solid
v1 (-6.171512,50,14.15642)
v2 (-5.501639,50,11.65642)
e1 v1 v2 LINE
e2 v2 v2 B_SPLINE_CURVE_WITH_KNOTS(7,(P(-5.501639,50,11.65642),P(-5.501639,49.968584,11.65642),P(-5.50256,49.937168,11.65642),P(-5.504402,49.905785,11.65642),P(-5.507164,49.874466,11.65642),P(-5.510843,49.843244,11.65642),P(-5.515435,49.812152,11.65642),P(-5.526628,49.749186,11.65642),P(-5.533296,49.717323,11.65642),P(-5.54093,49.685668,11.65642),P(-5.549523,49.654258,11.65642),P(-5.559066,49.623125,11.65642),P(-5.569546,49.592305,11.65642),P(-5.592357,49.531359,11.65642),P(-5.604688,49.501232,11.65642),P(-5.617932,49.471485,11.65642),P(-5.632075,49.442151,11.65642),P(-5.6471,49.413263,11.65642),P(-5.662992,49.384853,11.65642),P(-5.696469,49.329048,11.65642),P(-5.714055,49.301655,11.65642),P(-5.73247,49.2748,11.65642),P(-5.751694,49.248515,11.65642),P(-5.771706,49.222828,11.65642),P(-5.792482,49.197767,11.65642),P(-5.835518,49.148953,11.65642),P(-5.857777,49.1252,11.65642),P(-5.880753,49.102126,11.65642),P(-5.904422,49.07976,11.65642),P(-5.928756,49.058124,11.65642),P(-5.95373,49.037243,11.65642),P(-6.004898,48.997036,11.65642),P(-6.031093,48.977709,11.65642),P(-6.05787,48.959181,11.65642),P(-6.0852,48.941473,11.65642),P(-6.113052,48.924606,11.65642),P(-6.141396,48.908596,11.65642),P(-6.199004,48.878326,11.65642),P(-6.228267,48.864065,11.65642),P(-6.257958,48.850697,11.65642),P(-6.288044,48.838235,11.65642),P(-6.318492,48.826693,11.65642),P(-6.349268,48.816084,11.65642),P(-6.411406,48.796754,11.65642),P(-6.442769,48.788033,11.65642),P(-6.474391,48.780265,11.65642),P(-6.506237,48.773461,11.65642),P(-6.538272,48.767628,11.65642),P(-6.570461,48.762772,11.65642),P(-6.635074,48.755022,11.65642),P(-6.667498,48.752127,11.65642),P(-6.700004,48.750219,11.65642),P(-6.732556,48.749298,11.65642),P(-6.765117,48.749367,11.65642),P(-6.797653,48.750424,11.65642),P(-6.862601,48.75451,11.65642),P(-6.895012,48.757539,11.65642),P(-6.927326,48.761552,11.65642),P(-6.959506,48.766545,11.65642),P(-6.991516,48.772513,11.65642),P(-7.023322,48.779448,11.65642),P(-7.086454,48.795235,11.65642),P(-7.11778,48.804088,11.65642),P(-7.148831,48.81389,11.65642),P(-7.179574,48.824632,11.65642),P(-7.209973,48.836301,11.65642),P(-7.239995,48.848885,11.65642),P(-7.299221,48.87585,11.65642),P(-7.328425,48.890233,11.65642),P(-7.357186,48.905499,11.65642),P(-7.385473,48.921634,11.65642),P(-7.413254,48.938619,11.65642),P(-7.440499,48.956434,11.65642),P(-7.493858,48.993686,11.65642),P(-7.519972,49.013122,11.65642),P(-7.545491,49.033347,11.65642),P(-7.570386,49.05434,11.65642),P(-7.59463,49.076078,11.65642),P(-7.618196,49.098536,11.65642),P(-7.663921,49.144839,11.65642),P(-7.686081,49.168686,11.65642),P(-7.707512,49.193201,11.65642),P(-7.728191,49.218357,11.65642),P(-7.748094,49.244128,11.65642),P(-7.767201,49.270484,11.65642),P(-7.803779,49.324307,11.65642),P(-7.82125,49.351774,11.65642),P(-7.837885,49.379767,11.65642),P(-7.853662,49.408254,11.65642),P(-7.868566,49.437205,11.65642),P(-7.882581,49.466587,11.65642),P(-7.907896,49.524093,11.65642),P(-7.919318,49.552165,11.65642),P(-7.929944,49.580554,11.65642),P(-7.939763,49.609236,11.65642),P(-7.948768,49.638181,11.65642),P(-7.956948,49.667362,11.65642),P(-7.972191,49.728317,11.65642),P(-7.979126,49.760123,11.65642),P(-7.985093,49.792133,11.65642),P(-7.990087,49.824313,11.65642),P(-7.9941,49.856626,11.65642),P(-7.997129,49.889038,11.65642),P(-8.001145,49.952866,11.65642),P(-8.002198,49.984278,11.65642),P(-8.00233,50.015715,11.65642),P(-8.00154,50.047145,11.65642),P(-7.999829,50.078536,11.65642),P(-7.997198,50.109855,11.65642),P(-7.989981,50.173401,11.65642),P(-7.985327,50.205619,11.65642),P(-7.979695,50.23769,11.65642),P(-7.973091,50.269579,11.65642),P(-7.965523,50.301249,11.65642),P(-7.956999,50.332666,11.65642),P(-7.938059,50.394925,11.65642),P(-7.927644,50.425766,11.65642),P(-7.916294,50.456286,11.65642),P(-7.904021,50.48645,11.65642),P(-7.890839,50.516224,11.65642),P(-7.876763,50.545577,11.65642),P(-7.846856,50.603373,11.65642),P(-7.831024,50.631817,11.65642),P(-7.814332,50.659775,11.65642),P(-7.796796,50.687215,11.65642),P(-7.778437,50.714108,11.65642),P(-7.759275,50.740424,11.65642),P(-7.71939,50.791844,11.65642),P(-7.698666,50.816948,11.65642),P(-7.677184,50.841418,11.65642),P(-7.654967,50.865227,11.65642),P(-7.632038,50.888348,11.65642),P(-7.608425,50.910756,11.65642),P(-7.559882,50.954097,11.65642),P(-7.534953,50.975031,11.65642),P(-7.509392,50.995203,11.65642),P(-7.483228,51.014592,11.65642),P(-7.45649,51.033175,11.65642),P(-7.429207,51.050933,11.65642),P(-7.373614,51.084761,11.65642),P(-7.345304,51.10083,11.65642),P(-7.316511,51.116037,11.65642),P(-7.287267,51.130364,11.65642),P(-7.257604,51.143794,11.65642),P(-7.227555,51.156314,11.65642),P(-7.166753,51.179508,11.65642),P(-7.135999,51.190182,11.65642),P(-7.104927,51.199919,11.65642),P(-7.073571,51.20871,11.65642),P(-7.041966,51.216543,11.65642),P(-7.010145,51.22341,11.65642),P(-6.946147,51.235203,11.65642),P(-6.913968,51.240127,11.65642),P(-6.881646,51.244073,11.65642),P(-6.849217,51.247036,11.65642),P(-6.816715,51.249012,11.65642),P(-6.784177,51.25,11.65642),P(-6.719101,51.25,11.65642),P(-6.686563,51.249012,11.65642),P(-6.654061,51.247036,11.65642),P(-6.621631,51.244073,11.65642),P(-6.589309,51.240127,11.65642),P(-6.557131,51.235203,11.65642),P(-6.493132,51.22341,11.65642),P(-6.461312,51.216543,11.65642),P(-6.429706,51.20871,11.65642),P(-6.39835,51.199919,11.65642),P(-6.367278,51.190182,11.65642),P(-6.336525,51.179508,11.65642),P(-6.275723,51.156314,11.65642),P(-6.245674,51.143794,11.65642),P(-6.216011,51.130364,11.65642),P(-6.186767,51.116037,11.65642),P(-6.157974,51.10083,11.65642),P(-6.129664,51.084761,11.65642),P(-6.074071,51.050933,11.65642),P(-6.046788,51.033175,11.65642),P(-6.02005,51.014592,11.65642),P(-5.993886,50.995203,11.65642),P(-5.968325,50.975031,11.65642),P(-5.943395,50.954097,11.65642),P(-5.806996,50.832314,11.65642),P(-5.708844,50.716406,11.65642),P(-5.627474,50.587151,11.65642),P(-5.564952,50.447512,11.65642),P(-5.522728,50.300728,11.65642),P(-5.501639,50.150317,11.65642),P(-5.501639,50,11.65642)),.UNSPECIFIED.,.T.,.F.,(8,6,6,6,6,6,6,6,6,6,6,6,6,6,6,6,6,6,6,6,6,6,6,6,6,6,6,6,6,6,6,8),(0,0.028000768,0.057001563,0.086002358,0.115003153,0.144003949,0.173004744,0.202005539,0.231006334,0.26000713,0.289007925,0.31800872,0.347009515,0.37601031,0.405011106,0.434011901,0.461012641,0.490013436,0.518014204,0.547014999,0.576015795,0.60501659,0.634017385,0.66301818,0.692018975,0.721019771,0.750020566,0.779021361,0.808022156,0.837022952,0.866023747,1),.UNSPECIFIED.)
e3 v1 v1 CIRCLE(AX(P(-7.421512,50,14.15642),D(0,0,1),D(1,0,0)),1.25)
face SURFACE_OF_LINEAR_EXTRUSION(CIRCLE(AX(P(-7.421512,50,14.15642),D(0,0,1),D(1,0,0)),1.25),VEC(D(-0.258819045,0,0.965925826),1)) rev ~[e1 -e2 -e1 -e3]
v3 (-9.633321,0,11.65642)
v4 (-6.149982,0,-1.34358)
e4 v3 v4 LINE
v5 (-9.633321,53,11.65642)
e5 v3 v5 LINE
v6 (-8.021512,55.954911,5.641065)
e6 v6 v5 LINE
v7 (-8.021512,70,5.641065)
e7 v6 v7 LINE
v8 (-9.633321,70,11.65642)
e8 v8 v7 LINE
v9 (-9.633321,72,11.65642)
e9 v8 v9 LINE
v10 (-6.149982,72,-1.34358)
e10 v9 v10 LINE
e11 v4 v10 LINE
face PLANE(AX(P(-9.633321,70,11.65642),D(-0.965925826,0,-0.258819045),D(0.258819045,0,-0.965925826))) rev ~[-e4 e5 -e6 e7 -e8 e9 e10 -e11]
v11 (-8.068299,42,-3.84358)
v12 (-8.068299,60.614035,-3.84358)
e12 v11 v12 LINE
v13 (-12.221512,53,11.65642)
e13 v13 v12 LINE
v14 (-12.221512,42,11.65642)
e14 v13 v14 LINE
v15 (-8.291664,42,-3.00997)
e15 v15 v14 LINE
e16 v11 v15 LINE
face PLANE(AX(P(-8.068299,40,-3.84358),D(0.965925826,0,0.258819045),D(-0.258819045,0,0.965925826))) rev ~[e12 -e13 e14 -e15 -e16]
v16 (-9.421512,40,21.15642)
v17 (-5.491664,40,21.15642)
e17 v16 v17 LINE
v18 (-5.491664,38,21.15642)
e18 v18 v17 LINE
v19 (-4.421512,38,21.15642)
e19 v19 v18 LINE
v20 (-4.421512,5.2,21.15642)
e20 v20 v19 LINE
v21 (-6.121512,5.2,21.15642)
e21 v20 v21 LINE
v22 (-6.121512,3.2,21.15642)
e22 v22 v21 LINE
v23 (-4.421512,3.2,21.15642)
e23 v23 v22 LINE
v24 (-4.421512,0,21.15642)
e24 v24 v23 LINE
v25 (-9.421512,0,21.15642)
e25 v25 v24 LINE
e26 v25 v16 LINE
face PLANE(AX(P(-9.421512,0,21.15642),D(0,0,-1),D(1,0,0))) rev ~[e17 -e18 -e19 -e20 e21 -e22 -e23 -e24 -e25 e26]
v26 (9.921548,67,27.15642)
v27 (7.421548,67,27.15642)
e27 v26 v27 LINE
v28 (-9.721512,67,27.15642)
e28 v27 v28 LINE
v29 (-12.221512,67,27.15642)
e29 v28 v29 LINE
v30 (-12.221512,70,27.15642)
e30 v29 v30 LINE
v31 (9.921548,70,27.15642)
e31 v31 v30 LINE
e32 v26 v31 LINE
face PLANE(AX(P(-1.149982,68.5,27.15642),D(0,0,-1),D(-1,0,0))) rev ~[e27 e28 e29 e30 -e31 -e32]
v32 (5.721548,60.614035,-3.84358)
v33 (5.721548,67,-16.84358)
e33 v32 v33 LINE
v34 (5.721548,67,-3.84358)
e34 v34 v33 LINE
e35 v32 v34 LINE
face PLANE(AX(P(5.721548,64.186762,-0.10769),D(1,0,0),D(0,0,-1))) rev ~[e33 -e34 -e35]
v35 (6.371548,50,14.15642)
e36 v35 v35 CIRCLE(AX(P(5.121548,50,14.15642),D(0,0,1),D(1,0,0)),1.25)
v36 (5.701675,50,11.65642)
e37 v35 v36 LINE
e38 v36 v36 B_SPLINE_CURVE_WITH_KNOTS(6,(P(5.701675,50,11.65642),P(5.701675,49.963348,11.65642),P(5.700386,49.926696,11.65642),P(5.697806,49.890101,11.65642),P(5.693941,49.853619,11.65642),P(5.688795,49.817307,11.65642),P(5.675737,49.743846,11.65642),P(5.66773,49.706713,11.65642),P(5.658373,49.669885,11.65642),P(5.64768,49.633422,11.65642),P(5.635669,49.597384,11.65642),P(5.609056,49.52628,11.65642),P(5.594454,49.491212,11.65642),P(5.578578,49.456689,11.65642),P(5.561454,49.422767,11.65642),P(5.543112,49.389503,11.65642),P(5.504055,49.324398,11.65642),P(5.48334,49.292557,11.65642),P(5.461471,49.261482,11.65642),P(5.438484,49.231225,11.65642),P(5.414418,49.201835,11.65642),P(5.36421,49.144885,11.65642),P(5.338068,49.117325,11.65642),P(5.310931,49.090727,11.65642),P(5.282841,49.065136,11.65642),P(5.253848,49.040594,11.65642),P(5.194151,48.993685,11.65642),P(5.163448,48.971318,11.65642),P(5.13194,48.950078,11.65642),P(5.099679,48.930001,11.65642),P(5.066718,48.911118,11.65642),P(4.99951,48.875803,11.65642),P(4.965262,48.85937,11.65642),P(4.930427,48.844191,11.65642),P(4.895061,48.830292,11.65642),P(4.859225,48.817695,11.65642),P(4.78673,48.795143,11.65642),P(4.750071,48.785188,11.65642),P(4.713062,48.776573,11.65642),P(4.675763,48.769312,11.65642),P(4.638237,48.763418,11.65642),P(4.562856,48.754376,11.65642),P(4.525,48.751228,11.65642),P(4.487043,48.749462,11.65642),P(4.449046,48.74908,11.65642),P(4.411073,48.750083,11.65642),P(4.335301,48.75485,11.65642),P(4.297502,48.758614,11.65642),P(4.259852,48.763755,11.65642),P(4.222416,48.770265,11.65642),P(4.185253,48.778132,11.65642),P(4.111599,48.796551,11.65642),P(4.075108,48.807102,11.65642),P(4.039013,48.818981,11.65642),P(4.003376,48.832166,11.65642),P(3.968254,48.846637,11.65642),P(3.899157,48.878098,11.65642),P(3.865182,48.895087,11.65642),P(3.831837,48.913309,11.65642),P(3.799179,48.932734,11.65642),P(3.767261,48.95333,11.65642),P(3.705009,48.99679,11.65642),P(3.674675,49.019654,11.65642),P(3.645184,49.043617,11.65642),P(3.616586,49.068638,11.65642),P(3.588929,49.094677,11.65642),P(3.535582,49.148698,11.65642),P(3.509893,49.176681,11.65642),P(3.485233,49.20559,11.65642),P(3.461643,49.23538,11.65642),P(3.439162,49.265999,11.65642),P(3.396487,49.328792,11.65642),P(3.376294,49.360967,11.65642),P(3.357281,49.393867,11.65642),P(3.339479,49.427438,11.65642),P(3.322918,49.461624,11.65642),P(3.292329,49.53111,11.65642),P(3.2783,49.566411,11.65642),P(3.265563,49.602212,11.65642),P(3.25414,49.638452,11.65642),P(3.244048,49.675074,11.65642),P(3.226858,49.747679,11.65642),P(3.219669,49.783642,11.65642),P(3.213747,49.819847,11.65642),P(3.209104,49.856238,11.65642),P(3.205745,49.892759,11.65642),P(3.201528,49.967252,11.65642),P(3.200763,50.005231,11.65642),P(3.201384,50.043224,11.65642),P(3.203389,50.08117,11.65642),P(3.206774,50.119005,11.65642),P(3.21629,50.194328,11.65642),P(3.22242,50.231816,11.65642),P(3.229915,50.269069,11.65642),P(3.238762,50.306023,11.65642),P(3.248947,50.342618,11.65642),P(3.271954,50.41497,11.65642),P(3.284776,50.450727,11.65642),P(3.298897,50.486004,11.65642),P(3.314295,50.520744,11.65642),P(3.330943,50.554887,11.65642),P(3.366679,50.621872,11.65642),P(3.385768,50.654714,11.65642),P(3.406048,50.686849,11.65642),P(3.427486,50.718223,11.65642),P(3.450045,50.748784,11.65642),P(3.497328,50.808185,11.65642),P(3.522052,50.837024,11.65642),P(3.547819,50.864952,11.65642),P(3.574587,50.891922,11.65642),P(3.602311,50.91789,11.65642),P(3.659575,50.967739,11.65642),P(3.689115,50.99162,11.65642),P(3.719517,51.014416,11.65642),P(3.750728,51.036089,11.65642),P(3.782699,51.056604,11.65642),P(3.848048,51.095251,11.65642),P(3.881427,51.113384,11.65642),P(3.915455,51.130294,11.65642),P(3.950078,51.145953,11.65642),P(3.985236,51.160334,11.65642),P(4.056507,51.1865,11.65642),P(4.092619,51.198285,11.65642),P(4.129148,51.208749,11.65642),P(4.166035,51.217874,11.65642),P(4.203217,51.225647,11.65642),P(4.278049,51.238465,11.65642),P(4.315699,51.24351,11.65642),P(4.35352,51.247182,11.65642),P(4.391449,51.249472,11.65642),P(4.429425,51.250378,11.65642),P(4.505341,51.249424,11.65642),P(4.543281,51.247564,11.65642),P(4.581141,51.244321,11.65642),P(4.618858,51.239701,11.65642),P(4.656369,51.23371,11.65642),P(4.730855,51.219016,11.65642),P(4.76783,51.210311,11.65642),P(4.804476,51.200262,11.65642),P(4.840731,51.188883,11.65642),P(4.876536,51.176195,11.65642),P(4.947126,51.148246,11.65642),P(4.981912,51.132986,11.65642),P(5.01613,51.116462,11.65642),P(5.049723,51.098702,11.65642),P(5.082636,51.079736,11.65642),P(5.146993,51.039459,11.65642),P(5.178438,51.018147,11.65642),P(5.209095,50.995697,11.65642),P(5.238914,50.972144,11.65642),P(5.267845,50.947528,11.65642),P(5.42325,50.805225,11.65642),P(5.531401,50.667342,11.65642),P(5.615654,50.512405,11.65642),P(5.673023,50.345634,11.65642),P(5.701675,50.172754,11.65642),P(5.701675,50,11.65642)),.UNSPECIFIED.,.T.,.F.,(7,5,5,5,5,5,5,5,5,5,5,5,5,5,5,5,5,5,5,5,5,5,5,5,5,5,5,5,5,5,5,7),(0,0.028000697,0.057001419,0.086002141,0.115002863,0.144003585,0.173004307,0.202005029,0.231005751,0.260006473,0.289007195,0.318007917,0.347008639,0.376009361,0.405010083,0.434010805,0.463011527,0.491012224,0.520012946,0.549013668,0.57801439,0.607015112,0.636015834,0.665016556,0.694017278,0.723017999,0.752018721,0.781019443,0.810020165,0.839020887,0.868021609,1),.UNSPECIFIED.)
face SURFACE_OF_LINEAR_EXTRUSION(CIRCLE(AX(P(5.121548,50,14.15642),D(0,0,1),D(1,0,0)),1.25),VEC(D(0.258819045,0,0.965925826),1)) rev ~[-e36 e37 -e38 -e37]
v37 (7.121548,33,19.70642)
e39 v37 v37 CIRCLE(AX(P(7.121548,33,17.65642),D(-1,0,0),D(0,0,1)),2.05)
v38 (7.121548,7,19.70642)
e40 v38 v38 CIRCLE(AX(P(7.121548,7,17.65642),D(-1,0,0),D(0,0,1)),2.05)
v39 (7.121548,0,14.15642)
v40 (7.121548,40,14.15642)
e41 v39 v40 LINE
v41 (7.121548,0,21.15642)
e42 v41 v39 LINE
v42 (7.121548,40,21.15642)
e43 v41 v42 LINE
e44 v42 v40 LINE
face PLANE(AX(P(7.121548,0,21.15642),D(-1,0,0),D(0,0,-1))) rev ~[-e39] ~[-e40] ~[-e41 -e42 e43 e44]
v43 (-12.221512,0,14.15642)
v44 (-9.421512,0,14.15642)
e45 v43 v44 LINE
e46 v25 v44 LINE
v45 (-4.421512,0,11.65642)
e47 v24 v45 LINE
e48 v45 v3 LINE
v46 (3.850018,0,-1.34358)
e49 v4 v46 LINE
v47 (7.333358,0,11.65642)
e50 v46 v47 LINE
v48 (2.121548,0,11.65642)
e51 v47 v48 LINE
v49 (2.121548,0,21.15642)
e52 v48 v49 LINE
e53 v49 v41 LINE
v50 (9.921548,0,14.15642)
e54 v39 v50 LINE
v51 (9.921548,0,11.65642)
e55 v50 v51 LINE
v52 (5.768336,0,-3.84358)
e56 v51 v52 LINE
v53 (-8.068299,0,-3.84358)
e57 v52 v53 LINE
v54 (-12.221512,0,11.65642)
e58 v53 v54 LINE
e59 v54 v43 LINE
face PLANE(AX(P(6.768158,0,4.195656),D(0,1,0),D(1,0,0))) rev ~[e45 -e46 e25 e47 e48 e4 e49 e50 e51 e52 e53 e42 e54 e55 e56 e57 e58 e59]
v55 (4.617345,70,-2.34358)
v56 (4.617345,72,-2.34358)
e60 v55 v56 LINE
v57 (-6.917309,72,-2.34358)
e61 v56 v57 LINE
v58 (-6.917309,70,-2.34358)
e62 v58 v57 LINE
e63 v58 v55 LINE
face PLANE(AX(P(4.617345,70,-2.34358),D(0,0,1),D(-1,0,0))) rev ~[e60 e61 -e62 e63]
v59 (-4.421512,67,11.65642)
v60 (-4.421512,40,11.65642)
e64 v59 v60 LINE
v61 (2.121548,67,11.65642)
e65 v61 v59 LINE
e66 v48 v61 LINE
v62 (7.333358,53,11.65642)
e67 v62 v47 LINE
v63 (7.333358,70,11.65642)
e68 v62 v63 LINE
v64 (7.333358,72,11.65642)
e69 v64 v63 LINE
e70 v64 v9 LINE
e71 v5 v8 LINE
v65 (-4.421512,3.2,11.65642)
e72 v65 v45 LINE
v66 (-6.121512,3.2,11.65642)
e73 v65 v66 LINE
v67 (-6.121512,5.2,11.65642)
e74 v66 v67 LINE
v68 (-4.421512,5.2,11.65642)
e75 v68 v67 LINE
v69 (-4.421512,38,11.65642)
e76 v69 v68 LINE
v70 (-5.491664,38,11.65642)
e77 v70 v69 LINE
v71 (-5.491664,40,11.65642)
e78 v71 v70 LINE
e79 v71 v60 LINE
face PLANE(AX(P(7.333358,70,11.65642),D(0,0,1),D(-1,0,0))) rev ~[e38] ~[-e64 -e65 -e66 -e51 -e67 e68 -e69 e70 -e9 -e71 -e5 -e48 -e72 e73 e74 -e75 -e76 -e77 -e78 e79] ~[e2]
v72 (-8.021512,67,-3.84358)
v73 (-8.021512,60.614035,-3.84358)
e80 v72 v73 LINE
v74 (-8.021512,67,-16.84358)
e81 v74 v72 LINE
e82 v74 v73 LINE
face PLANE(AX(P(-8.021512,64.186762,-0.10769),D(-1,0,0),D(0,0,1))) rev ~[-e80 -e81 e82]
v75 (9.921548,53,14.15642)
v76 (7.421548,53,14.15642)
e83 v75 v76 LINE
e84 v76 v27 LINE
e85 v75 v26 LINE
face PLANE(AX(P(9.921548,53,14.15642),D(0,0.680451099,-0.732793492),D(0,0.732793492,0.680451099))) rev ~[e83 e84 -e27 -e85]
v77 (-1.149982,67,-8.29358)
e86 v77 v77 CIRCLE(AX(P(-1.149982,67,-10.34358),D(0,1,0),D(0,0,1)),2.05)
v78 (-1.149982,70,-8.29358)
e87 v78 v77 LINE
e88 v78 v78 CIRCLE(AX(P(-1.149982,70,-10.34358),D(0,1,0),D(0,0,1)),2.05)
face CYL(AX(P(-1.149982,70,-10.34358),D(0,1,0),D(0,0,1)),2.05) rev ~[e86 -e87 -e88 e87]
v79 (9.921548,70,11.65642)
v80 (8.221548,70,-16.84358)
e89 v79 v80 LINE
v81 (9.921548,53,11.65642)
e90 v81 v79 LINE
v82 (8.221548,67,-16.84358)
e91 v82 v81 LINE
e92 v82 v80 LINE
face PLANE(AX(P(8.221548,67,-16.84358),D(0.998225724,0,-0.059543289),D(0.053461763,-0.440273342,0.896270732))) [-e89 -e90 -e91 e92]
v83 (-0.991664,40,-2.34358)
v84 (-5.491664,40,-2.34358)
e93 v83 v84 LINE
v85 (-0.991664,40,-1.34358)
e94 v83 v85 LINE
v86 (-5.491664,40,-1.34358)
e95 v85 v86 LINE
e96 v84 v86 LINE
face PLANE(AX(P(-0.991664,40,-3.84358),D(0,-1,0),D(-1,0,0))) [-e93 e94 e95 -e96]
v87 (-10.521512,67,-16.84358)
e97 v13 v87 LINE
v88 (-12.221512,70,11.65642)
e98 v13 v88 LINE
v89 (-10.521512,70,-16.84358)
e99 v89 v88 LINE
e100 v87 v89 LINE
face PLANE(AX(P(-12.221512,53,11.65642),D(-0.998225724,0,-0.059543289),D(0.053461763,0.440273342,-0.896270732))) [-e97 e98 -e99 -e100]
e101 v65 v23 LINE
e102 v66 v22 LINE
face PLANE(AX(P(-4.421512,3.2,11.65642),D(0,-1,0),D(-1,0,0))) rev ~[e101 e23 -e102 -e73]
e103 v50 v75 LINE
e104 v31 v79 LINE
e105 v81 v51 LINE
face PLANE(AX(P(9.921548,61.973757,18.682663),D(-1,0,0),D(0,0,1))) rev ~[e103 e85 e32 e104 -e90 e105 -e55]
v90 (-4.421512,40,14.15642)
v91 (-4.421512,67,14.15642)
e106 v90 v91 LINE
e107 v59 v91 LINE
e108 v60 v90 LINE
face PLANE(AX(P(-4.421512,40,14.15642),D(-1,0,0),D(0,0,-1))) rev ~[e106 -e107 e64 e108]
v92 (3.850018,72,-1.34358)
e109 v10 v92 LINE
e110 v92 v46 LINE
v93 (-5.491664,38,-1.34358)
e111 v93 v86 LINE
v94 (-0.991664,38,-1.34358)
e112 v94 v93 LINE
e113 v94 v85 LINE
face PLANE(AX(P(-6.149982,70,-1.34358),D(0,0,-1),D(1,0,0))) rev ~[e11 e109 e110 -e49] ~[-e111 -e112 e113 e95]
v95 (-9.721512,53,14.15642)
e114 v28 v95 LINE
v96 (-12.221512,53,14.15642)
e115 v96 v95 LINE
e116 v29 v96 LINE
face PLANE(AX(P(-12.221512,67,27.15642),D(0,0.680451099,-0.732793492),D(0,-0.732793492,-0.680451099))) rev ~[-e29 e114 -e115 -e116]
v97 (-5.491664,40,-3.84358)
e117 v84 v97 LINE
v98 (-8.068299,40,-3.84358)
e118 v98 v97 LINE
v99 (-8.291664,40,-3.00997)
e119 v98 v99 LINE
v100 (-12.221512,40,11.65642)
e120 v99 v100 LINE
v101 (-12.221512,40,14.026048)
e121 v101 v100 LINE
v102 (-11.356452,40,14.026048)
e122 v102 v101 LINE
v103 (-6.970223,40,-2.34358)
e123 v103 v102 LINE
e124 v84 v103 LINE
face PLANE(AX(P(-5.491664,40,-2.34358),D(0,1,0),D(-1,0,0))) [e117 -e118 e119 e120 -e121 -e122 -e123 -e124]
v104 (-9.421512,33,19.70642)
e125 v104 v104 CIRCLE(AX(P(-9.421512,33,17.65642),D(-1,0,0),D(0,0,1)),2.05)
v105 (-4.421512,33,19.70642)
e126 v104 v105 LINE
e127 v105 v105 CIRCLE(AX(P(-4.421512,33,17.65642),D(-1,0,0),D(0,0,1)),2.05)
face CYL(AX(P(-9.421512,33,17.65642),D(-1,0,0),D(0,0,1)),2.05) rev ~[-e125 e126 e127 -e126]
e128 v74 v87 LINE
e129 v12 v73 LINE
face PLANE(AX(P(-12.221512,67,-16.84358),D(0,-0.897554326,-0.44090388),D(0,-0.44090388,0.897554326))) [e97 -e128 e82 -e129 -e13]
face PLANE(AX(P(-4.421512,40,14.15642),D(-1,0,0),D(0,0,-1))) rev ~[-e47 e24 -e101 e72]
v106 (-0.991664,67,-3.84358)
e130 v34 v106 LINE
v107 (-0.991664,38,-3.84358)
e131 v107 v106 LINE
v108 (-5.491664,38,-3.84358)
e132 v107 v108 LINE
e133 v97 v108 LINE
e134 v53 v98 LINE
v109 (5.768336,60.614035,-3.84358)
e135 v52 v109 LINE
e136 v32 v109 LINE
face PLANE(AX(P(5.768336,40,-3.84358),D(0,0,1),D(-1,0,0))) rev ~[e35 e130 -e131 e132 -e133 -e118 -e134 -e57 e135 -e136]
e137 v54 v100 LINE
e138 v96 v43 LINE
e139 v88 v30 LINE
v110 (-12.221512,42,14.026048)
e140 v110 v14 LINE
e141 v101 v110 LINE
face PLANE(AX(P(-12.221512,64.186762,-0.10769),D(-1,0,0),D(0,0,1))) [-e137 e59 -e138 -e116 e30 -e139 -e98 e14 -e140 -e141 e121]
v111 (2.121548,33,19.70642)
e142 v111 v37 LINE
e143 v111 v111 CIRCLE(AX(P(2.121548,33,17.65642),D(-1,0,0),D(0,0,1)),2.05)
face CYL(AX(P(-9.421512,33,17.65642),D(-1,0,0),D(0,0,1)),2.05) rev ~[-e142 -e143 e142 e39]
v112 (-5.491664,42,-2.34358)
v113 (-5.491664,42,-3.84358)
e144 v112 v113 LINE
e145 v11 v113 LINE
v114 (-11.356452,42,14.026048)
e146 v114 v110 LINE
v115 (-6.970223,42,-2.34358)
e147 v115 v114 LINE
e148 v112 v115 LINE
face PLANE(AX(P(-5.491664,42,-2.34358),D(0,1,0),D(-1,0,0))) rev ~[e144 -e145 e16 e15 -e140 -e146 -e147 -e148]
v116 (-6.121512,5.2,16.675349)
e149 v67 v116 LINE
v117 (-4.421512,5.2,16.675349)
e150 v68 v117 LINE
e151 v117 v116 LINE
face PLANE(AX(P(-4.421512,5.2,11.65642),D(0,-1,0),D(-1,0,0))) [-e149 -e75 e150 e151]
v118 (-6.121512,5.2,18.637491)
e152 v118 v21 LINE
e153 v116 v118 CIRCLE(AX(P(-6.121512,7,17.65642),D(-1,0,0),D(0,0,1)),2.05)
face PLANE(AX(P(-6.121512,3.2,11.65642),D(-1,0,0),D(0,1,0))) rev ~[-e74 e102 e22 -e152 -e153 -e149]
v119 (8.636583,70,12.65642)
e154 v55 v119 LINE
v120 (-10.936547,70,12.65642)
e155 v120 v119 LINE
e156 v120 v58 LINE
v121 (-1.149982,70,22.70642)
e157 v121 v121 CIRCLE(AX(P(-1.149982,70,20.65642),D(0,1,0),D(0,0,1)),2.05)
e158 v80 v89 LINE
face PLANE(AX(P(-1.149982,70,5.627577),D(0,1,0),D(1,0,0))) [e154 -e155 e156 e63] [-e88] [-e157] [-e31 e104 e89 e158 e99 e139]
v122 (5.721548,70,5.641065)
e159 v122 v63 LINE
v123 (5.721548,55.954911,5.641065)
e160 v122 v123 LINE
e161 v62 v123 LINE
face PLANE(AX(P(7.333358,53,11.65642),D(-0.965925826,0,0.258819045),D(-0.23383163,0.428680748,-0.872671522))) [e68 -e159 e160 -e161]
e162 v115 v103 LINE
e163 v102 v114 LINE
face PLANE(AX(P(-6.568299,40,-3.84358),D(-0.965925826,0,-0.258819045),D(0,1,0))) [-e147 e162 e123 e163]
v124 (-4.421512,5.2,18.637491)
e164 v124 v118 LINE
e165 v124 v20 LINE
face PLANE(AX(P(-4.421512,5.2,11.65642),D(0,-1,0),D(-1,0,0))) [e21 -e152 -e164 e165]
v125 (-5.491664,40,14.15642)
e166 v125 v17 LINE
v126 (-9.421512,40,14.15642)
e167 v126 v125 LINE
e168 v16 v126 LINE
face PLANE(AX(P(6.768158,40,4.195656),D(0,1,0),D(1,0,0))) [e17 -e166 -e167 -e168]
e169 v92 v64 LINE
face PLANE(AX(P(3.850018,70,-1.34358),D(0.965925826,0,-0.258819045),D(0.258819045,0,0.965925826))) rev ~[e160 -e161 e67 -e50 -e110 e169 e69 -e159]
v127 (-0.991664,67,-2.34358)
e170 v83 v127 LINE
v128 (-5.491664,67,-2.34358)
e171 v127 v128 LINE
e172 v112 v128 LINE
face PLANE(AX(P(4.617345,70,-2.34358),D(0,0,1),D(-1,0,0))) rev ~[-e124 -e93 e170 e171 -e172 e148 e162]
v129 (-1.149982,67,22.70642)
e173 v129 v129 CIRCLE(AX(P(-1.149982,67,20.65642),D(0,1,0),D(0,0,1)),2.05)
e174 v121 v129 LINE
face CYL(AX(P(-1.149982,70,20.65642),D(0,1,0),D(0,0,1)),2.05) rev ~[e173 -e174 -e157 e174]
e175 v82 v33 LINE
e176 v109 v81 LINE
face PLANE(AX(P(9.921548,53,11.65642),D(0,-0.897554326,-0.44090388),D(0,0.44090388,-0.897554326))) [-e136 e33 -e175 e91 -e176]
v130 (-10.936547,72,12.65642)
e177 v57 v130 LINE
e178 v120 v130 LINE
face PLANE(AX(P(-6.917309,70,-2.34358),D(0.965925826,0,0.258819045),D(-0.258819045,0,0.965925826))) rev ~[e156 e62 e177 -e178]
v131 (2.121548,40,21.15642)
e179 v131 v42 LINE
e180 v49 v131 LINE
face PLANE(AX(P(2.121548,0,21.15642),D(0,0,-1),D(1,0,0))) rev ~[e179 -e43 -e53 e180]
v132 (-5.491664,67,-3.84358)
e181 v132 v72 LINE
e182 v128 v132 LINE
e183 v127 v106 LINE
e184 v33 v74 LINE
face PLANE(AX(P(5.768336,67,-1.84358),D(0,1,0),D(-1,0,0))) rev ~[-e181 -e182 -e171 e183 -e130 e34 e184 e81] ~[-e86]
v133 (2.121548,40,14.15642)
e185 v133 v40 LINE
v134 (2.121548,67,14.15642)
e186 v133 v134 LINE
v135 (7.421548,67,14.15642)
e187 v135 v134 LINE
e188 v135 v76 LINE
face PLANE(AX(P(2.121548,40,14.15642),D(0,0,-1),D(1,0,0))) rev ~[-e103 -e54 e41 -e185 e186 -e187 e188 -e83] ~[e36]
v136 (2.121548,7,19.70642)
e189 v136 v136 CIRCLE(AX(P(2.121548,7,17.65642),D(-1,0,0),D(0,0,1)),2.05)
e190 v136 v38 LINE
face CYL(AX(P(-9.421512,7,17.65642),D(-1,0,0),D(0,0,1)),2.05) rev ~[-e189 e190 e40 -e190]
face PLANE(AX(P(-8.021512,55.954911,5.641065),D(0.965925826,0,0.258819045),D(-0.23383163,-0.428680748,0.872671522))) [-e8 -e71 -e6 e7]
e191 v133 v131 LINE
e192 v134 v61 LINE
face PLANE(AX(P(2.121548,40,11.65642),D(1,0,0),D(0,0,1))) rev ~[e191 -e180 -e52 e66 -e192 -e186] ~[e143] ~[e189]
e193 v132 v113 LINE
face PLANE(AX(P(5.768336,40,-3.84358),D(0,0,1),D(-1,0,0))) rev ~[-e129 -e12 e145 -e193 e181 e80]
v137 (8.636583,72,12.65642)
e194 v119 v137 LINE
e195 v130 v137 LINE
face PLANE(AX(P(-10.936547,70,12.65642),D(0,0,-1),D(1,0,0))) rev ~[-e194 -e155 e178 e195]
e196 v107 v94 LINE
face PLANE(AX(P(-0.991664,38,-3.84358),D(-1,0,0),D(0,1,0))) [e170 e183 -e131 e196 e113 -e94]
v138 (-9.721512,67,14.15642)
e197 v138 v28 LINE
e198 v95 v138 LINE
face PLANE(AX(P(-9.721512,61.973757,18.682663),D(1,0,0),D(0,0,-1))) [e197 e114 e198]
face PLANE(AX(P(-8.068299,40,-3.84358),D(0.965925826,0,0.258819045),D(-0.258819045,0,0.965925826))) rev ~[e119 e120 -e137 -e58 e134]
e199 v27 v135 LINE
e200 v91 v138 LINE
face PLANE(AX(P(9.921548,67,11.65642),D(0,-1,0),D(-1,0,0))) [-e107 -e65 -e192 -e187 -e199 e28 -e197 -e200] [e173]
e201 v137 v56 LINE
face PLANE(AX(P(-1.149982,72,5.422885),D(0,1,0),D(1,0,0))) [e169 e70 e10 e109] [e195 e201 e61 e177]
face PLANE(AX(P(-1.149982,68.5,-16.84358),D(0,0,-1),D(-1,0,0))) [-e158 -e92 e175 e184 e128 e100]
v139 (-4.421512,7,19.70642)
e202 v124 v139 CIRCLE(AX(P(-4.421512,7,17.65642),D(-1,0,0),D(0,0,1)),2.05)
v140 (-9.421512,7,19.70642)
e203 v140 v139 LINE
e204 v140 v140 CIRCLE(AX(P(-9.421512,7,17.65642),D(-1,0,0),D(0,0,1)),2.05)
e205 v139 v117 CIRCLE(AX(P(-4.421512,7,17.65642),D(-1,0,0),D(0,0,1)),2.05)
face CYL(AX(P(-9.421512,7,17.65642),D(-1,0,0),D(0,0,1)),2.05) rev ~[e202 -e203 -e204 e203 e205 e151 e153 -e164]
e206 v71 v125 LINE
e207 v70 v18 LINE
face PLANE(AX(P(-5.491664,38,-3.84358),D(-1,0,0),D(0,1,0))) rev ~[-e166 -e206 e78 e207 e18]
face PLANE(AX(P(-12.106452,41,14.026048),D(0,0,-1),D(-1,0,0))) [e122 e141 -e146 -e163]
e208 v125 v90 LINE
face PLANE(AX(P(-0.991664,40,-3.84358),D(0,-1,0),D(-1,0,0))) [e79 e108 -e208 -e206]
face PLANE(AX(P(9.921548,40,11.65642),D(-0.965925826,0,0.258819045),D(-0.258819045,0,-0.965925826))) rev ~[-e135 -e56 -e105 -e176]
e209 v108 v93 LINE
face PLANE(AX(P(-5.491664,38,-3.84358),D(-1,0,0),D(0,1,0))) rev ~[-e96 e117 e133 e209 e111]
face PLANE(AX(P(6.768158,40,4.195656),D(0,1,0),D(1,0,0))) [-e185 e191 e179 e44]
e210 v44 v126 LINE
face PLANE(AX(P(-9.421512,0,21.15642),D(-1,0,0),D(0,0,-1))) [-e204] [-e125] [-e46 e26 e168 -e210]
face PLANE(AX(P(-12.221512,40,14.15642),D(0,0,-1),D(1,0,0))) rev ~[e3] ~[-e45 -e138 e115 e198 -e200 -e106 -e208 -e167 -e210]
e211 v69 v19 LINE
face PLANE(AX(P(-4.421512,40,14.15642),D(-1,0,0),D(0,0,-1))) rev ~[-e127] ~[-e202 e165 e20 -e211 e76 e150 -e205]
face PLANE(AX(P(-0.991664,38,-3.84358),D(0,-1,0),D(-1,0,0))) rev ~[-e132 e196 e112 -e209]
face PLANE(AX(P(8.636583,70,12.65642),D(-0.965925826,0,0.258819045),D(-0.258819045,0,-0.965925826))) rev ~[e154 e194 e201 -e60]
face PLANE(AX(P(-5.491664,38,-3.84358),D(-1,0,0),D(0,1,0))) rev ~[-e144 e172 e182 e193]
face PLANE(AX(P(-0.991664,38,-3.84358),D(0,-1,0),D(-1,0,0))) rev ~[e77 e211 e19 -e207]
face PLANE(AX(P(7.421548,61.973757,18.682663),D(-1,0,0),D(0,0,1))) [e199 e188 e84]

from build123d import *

# Parameters (mm, degrees)
SKETCH2_W                = 5
SKETCH2_H                = 7
BOSS_EXTRUDE1_DEPTH      = 40
SKETCH3_R                = 2.05
CUT_EXTRUDE2_DEPTH       = 40
BOSS_EXTRUDE2_DEPTH      = 30
SKETCH7_W                = 4.5
SKETCH7_H                = 2
CUT_EXTRUDE3_DEPTH       = 76.328383431
SKETCH8_W                = 1.7
SKETCH8_H                = 2
CUT_EXTRUDE4_DEPTH       = 73.729741855
SKETCH9_W                = 6.543059906
SKETCH9_H                = 1
BOSS_EXTRUDE3_DEPTH      = 2
SKETCH10_W               = 4.5
SKETCH10_H               = 75
CUT_EXTRUDE5_DEPTH       = 1.5
SKETCH13_W               = 2.8
SKETCH13_H               = 2
CUT_EXTRUDE7_DEPTH       = 1.5
SKETCH15_W               = 1.5
SKETCH15_H               = 2
CUT_EXTRUDE8_DEPTH       = 18.5
SKETCH16_R               = 1.25
CUT_EXTRUDE9_DEPTH       = 3.5
SKETCH17_R               = 1.25
CUT_EXTRUDE10_DEPTH      = 3.5
SKETCH18_W               = 22.143059906
SKETCH18_H               = 3
BOSS_EXTRUDE4_DEPTH      = 15.5
BOSS_EXTRUDE5_DEPTH      = 13
BOSS_EXTRUDE5_DEPTH_BACK = 2
SKETCH19_W               = 13.83663494
SKETCH19_H               = 3
BOSS_EXTRUDE6_DEPTH      = 2.5
BOSS_EXTRUDE8_DEPTH      = 2.5
BOSS_EXTRUDE9_DEPTH      = 4.2
BOSS_EXTRUDE10_DEPTH     = 4.2
SKETCH25_R               = 2.05
CUT_EXTRUDE12_DEPTH      = 3.5
CUT_EXTRUDE13_DEPTH      = 71.528016285
CUT_EXTRUDE14_DEPTH      = 71.528016285


with BuildPart() as part:
    # Sketch2 → Boss-Extrude1 (new body)
    with BuildSketch(Plane(origin=(0, 0, 0), x_dir=(1, 0, 0), z_dir=(0, 1, 0))):
        Polygon((9.921548121, -11.656419986), (5.768335638, 3.843580014), (5.768335638, 1.343580014), (3.850018168, 1.343580014), (7.33335767, -11.656419986), align=None)
        Polygon((5.768335638, 3.843580014), (-8.068299302, 3.843580014), (-5.653484736, 3.196532402), (-6.149981832, 1.343580014), (3.850018168, 1.343580014), (3.353521072, 3.196532402), align=None)
        Polygon((-8.068299302, 1.343580014), (-8.068299302, 3.843580014), (-12.221511785, -11.656419986), (-9.633321334, -11.656419986), (-6.149981832, 1.343580014), align=None)
        Polygon((5.768335638, 1.343580014), (5.768335638, 3.843580014), (3.353521072, 3.196532402), (3.850018168, 1.343580014), align=None)
        Polygon((-5.653484736, 3.196532402), (-8.068299302, 3.843580014), (-8.068299302, 1.343580014), (-6.149981832, 1.343580014), align=None)
        Polygon((-9.806697219, -12.303467598), (-12.221511785, -11.656419986), (-12.221511785, -14.156419986), (-9.421511785, -14.156419986), (-4.421511785, -14.156419986), (-4.421511785, -11.656419986), (-9.633321334, -11.656419986), align=None)
        Polygon((-9.633321334, -11.656419986), (-12.221511785, -11.656419986), (-9.806697219, -12.303467598), align=None)
        Polygon((7.506733555, -12.303467598), (9.921548121, -11.656419986), (7.33335767, -11.656419986), align=None)
        Polygon((9.921548121, -14.156419986), (9.921548121, -11.656419986), (7.506733555, -12.303467598), (7.33335767, -11.656419986), (2.121548121, -11.656419986), (2.121548121, -14.156419986), (7.121548121, -14.156419986), align=None)
        with Locations((4.621548121, -17.656419986)):
            Rectangle(SKETCH2_W, SKETCH2_H)
        with Locations((-6.921511785, -17.656419986)):
            Rectangle(SKETCH2_W, SKETCH2_H)
    extrude(amount=BOSS_EXTRUDE1_DEPTH)

    # Sketch3 → Cut-Extrude2 (cut)
    with BuildSketch(Plane.ZY.offset(9.421511785)):
        with Locations((17.656419986, 33)):
            Circle(SKETCH3_R)
        with Locations((17.656419986, 7)):
            Circle(SKETCH3_R)
    extrude(amount=-CUT_EXTRUDE2_DEPTH, mode=Mode.SUBTRACT)

    # Sketch4 → Boss-Extrude2 (add)
    with BuildSketch(Plane(origin=(0, 40, 0), x_dir=(1, 0, 0), z_dir=(0, 1, 0))):
        Polygon((-4.421511785, -11.656419986), (-9.633321334, -11.656419986), (-6.149981832, 1.343580014), (3.850018168, 1.343580014), (7.33335767, -11.656419986), (2.121548121, -11.656419986), (2.121548121, -14.156419986), (7.121548121, -14.156419986), (9.921548121, -14.156419986), (9.921548121, -11.656419986), (5.768335638, 3.843580014), (-8.068299302, 3.843580014), (-12.221511785, -11.656419986), (-12.221511785, -14.156419986), (-9.421511785, -14.156419986), (-4.421511785, -14.156419986), align=None)
    extrude(amount=BOSS_EXTRUDE2_DEPTH)

    # Sketch7 → Cut-Extrude3 (cut, through all)
    with BuildSketch(Plane(origin=(0, 0, -3.843580014), x_dir=(-1, 0, 0), z_dir=(0, 0, -1))):
        with Locations((3.241664362, 39)):
            Rectangle(SKETCH7_W, SKETCH7_H)
    extrude(amount=-CUT_EXTRUDE3_DEPTH, mode=Mode.SUBTRACT)

    # Sketch8 → Cut-Extrude4 (cut, through all)
    with BuildSketch(Plane(origin=(0, 0, 11.656419986), x_dir=(-1, 0, 0), z_dir=(0, 0, -1))):
        with Locations((5.271511785, 4.2)):
            Rectangle(SKETCH8_W, SKETCH8_H)
    extrude(amount=-CUT_EXTRUDE4_DEPTH, mode=Mode.SUBTRACT)

    # Sketch9 → Boss-Extrude3 (add)
    with BuildSketch(Plane(origin=(0, 70, 0), x_dir=(1, 0, 0), z_dir=(0, 1, 0))):
        Polygon((7.33335767, -11.656419986), (2.121548121, -11.656419986), (2.121548121, -12.656419986), (8.636583042, -12.656419986), (4.617345156, 2.343580014), (-6.91730882, 2.343580014), (-10.936546706, -12.656419986), (-4.421511785, -12.656419986), (-4.421511785, -11.656419986), (-9.633321334, -11.656419986), (-6.149981832, 1.343580014), (3.850018168, 1.343580014), align=None)
        with Locations((-1.149981832, -12.156419986)):
            Rectangle(SKETCH9_W, SKETCH9_H)
    extrude(amount=BOSS_EXTRUDE3_DEPTH)

    # Sketch10 → Cut-Extrude5 (cut)
    with BuildSketch(Plane(origin=(0, 0, -3.843580014), x_dir=(-1, 0, 0), z_dir=(0, 0, -1))):
        with Locations((3.241664362, 77.5)):
            Rectangle(SKETCH10_W, SKETCH10_H)
    extrude(amount=-CUT_EXTRUDE5_DEPTH, mode=Mode.SUBTRACT)

    # Sketch13 → Cut-Extrude7 (cut)
    with BuildSketch(Plane(origin=(0, 0, -2.343580014), x_dir=(-1, 0, 0), z_dir=(0, 0, -1))):
        with Locations((6.891664362, 41)):
            Rectangle(SKETCH13_W, SKETCH13_H)
    extrude(amount=CUT_EXTRUDE7_DEPTH, mode=Mode.SUBTRACT)

    # Sketch15 → Cut-Extrude8 (cut, along a direction that is not the sketch's normal)
    with BuildSketch(Plane(origin=(0, 0, -3.843580014), x_dir=(-1, 0, 0), z_dir=(0, 0, -1))):
        with Locations((7.318299302, 41)):
            Rectangle(SKETCH15_W, SKETCH15_H)
    extrude(amount=-CUT_EXTRUDE8_DEPTH, dir=(0.25881904510252474, 0, -0.9659258262890672), mode=Mode.SUBTRACT)

    # Sketch16 → Cut-Extrude9 (cut, along a direction that is not the sketch's normal)
    with BuildSketch(Plane.XY.offset(14.156419986)):
        with Locations((-7.421511785, 50)):
            Circle(SKETCH16_R)
    extrude(amount=-CUT_EXTRUDE9_DEPTH, dir=(-0.2588190451025246, 0, 0.9659258262890672), mode=Mode.SUBTRACT)

    # Sketch17 → Cut-Extrude10 (cut, along a direction that is not the sketch's normal)
    with BuildSketch(Plane.XY.offset(14.156419986)):
        with Locations((5.121548121, 50)):
            Circle(SKETCH17_R)
    extrude(amount=-CUT_EXTRUDE10_DEPTH, dir=(0.25881904510251796, 0, 0.9659258262890691), mode=Mode.SUBTRACT)

    # Sketch18 → Boss-Extrude4 (add)
    with BuildSketch(Plane(origin=(0, 0, 11.656419986), x_dir=(-1, 0, 0), z_dir=(0, 0, -1))):
        with Locations((1.149981832, 68.5)):
            Rectangle(SKETCH18_W, SKETCH18_H)
    extrude(amount=-BOSS_EXTRUDE4_DEPTH)

    # Sketch19 → Boss-Extrude5 (add, two sides: drawn at the far end of the back side and taken through both)
    with BuildSketch(Plane(origin=(0, 0, -3.843580014), x_dir=(-1, 0, 0), z_dir=(0, 0, -1)).offset(-BOSS_EXTRUDE5_DEPTH_BACK)):
        with Locations((1.149981832, 68.5)):
            Rectangle(SKETCH19_W, SKETCH19_H)
    extrude(amount=BOSS_EXTRUDE5_DEPTH + BOSS_EXTRUDE5_DEPTH_BACK)

    # Sketch21 → Boss-Extrude6 (add)
    with BuildSketch(Plane.ZY.offset(12.221511785)):
        Polygon((27.156419986, 67), (14.156419986, 53), (14.156419986, 67), align=None)
    extrude(amount=-BOSS_EXTRUDE6_DEPTH)

    # Sketch22 → Boss-Extrude8 (add)
    with BuildSketch(Plane(origin=(9.921548121, 0, 0), x_dir=(0, 0, -1), z_dir=(1, 0, 0))):
        Polygon((-27.156419986, 67), (-14.156419986, 67), (-14.156419986, 53), align=None)
    extrude(amount=-BOSS_EXTRUDE8_DEPTH)

    # Sketch23 → Boss-Extrude9 (add)
    with BuildSketch(Plane(origin=(9.921548121, 0, 0), x_dir=(0, 0, -1), z_dir=(1, 0, 0))):
        Polygon((-11.656419986, 70), (-11.656419986, 53), (16.843580014, 67), (16.843580014, 70), align=None)
    extrude(amount=-BOSS_EXTRUDE9_DEPTH)

    # Sketch24 → Boss-Extrude10 (add)
    with BuildSketch(Plane.ZY.offset(12.221511785)):
        Polygon((11.656419986, 70), (-16.843580014, 70), (-16.843580014, 67), (11.656419986, 53), align=None)
    extrude(amount=-BOSS_EXTRUDE10_DEPTH)

    # Sketch25 → Cut-Extrude12 (cut)
    with BuildSketch(Plane(origin=(0, 70, 0), x_dir=(1, 0, 0), z_dir=(0, 1, 0))):
        with Locations(Location((-1.149981694, 10.343580014, 0), (0, 0, 270))):
            Circle(SKETCH25_R)
        with Locations(Location((-1.149981723, -20.656419986, 0), (0, 0, 270))):
            Circle(SKETCH25_R)
    extrude(amount=-CUT_EXTRUDE12_DEPTH, mode=Mode.SUBTRACT)

    # Sketch26 → Cut-Extrude13 (cut, through all, along a direction that is not the sketch's normal)
    with BuildSketch(Plane(origin=(0, 47.309855268, 23.239928904), x_dir=(-1, 0, 0), z_dir=(-4.742047126241555e-14, -0.8975543264374147, -0.4409038796534669))):
        Polygon((-5.721548121, 12.905635433), (-7.33335767, 12.905635433), (-5.721548121, 19.607575306), align=None)
        Polygon((8.021511785, 12.905635433), (8.021511785, 19.607575306), (9.633321334, 12.905635433), align=None)
    extrude(amount=-CUT_EXTRUDE13_DEPTH, dir=(0, -1, 0), mode=Mode.SUBTRACT)

    # Sketch27 → Cut-Extrude14 (cut, through all, along a direction that is not the sketch's normal)
    with BuildSketch(Plane(origin=(0, 47.309855268, 23.239928904), x_dir=(-1, 0, 0), z_dir=(0, -0.8975543264374147, -0.440903879653467))):
        Polygon((12.221511785, 12.905635433), (10.521511785, 44.658588051), (12.221511785, 44.658588051), align=None)
        Polygon((-9.921548121, 12.905635433), (-9.921548121, 44.658588051), (-8.221548121, 44.658588051), align=None)
    extrude(amount=-CUT_EXTRUDE14_DEPTH, dir=(0, -1, 0), mode=Mode.SUBTRACT)


solid = part.part
